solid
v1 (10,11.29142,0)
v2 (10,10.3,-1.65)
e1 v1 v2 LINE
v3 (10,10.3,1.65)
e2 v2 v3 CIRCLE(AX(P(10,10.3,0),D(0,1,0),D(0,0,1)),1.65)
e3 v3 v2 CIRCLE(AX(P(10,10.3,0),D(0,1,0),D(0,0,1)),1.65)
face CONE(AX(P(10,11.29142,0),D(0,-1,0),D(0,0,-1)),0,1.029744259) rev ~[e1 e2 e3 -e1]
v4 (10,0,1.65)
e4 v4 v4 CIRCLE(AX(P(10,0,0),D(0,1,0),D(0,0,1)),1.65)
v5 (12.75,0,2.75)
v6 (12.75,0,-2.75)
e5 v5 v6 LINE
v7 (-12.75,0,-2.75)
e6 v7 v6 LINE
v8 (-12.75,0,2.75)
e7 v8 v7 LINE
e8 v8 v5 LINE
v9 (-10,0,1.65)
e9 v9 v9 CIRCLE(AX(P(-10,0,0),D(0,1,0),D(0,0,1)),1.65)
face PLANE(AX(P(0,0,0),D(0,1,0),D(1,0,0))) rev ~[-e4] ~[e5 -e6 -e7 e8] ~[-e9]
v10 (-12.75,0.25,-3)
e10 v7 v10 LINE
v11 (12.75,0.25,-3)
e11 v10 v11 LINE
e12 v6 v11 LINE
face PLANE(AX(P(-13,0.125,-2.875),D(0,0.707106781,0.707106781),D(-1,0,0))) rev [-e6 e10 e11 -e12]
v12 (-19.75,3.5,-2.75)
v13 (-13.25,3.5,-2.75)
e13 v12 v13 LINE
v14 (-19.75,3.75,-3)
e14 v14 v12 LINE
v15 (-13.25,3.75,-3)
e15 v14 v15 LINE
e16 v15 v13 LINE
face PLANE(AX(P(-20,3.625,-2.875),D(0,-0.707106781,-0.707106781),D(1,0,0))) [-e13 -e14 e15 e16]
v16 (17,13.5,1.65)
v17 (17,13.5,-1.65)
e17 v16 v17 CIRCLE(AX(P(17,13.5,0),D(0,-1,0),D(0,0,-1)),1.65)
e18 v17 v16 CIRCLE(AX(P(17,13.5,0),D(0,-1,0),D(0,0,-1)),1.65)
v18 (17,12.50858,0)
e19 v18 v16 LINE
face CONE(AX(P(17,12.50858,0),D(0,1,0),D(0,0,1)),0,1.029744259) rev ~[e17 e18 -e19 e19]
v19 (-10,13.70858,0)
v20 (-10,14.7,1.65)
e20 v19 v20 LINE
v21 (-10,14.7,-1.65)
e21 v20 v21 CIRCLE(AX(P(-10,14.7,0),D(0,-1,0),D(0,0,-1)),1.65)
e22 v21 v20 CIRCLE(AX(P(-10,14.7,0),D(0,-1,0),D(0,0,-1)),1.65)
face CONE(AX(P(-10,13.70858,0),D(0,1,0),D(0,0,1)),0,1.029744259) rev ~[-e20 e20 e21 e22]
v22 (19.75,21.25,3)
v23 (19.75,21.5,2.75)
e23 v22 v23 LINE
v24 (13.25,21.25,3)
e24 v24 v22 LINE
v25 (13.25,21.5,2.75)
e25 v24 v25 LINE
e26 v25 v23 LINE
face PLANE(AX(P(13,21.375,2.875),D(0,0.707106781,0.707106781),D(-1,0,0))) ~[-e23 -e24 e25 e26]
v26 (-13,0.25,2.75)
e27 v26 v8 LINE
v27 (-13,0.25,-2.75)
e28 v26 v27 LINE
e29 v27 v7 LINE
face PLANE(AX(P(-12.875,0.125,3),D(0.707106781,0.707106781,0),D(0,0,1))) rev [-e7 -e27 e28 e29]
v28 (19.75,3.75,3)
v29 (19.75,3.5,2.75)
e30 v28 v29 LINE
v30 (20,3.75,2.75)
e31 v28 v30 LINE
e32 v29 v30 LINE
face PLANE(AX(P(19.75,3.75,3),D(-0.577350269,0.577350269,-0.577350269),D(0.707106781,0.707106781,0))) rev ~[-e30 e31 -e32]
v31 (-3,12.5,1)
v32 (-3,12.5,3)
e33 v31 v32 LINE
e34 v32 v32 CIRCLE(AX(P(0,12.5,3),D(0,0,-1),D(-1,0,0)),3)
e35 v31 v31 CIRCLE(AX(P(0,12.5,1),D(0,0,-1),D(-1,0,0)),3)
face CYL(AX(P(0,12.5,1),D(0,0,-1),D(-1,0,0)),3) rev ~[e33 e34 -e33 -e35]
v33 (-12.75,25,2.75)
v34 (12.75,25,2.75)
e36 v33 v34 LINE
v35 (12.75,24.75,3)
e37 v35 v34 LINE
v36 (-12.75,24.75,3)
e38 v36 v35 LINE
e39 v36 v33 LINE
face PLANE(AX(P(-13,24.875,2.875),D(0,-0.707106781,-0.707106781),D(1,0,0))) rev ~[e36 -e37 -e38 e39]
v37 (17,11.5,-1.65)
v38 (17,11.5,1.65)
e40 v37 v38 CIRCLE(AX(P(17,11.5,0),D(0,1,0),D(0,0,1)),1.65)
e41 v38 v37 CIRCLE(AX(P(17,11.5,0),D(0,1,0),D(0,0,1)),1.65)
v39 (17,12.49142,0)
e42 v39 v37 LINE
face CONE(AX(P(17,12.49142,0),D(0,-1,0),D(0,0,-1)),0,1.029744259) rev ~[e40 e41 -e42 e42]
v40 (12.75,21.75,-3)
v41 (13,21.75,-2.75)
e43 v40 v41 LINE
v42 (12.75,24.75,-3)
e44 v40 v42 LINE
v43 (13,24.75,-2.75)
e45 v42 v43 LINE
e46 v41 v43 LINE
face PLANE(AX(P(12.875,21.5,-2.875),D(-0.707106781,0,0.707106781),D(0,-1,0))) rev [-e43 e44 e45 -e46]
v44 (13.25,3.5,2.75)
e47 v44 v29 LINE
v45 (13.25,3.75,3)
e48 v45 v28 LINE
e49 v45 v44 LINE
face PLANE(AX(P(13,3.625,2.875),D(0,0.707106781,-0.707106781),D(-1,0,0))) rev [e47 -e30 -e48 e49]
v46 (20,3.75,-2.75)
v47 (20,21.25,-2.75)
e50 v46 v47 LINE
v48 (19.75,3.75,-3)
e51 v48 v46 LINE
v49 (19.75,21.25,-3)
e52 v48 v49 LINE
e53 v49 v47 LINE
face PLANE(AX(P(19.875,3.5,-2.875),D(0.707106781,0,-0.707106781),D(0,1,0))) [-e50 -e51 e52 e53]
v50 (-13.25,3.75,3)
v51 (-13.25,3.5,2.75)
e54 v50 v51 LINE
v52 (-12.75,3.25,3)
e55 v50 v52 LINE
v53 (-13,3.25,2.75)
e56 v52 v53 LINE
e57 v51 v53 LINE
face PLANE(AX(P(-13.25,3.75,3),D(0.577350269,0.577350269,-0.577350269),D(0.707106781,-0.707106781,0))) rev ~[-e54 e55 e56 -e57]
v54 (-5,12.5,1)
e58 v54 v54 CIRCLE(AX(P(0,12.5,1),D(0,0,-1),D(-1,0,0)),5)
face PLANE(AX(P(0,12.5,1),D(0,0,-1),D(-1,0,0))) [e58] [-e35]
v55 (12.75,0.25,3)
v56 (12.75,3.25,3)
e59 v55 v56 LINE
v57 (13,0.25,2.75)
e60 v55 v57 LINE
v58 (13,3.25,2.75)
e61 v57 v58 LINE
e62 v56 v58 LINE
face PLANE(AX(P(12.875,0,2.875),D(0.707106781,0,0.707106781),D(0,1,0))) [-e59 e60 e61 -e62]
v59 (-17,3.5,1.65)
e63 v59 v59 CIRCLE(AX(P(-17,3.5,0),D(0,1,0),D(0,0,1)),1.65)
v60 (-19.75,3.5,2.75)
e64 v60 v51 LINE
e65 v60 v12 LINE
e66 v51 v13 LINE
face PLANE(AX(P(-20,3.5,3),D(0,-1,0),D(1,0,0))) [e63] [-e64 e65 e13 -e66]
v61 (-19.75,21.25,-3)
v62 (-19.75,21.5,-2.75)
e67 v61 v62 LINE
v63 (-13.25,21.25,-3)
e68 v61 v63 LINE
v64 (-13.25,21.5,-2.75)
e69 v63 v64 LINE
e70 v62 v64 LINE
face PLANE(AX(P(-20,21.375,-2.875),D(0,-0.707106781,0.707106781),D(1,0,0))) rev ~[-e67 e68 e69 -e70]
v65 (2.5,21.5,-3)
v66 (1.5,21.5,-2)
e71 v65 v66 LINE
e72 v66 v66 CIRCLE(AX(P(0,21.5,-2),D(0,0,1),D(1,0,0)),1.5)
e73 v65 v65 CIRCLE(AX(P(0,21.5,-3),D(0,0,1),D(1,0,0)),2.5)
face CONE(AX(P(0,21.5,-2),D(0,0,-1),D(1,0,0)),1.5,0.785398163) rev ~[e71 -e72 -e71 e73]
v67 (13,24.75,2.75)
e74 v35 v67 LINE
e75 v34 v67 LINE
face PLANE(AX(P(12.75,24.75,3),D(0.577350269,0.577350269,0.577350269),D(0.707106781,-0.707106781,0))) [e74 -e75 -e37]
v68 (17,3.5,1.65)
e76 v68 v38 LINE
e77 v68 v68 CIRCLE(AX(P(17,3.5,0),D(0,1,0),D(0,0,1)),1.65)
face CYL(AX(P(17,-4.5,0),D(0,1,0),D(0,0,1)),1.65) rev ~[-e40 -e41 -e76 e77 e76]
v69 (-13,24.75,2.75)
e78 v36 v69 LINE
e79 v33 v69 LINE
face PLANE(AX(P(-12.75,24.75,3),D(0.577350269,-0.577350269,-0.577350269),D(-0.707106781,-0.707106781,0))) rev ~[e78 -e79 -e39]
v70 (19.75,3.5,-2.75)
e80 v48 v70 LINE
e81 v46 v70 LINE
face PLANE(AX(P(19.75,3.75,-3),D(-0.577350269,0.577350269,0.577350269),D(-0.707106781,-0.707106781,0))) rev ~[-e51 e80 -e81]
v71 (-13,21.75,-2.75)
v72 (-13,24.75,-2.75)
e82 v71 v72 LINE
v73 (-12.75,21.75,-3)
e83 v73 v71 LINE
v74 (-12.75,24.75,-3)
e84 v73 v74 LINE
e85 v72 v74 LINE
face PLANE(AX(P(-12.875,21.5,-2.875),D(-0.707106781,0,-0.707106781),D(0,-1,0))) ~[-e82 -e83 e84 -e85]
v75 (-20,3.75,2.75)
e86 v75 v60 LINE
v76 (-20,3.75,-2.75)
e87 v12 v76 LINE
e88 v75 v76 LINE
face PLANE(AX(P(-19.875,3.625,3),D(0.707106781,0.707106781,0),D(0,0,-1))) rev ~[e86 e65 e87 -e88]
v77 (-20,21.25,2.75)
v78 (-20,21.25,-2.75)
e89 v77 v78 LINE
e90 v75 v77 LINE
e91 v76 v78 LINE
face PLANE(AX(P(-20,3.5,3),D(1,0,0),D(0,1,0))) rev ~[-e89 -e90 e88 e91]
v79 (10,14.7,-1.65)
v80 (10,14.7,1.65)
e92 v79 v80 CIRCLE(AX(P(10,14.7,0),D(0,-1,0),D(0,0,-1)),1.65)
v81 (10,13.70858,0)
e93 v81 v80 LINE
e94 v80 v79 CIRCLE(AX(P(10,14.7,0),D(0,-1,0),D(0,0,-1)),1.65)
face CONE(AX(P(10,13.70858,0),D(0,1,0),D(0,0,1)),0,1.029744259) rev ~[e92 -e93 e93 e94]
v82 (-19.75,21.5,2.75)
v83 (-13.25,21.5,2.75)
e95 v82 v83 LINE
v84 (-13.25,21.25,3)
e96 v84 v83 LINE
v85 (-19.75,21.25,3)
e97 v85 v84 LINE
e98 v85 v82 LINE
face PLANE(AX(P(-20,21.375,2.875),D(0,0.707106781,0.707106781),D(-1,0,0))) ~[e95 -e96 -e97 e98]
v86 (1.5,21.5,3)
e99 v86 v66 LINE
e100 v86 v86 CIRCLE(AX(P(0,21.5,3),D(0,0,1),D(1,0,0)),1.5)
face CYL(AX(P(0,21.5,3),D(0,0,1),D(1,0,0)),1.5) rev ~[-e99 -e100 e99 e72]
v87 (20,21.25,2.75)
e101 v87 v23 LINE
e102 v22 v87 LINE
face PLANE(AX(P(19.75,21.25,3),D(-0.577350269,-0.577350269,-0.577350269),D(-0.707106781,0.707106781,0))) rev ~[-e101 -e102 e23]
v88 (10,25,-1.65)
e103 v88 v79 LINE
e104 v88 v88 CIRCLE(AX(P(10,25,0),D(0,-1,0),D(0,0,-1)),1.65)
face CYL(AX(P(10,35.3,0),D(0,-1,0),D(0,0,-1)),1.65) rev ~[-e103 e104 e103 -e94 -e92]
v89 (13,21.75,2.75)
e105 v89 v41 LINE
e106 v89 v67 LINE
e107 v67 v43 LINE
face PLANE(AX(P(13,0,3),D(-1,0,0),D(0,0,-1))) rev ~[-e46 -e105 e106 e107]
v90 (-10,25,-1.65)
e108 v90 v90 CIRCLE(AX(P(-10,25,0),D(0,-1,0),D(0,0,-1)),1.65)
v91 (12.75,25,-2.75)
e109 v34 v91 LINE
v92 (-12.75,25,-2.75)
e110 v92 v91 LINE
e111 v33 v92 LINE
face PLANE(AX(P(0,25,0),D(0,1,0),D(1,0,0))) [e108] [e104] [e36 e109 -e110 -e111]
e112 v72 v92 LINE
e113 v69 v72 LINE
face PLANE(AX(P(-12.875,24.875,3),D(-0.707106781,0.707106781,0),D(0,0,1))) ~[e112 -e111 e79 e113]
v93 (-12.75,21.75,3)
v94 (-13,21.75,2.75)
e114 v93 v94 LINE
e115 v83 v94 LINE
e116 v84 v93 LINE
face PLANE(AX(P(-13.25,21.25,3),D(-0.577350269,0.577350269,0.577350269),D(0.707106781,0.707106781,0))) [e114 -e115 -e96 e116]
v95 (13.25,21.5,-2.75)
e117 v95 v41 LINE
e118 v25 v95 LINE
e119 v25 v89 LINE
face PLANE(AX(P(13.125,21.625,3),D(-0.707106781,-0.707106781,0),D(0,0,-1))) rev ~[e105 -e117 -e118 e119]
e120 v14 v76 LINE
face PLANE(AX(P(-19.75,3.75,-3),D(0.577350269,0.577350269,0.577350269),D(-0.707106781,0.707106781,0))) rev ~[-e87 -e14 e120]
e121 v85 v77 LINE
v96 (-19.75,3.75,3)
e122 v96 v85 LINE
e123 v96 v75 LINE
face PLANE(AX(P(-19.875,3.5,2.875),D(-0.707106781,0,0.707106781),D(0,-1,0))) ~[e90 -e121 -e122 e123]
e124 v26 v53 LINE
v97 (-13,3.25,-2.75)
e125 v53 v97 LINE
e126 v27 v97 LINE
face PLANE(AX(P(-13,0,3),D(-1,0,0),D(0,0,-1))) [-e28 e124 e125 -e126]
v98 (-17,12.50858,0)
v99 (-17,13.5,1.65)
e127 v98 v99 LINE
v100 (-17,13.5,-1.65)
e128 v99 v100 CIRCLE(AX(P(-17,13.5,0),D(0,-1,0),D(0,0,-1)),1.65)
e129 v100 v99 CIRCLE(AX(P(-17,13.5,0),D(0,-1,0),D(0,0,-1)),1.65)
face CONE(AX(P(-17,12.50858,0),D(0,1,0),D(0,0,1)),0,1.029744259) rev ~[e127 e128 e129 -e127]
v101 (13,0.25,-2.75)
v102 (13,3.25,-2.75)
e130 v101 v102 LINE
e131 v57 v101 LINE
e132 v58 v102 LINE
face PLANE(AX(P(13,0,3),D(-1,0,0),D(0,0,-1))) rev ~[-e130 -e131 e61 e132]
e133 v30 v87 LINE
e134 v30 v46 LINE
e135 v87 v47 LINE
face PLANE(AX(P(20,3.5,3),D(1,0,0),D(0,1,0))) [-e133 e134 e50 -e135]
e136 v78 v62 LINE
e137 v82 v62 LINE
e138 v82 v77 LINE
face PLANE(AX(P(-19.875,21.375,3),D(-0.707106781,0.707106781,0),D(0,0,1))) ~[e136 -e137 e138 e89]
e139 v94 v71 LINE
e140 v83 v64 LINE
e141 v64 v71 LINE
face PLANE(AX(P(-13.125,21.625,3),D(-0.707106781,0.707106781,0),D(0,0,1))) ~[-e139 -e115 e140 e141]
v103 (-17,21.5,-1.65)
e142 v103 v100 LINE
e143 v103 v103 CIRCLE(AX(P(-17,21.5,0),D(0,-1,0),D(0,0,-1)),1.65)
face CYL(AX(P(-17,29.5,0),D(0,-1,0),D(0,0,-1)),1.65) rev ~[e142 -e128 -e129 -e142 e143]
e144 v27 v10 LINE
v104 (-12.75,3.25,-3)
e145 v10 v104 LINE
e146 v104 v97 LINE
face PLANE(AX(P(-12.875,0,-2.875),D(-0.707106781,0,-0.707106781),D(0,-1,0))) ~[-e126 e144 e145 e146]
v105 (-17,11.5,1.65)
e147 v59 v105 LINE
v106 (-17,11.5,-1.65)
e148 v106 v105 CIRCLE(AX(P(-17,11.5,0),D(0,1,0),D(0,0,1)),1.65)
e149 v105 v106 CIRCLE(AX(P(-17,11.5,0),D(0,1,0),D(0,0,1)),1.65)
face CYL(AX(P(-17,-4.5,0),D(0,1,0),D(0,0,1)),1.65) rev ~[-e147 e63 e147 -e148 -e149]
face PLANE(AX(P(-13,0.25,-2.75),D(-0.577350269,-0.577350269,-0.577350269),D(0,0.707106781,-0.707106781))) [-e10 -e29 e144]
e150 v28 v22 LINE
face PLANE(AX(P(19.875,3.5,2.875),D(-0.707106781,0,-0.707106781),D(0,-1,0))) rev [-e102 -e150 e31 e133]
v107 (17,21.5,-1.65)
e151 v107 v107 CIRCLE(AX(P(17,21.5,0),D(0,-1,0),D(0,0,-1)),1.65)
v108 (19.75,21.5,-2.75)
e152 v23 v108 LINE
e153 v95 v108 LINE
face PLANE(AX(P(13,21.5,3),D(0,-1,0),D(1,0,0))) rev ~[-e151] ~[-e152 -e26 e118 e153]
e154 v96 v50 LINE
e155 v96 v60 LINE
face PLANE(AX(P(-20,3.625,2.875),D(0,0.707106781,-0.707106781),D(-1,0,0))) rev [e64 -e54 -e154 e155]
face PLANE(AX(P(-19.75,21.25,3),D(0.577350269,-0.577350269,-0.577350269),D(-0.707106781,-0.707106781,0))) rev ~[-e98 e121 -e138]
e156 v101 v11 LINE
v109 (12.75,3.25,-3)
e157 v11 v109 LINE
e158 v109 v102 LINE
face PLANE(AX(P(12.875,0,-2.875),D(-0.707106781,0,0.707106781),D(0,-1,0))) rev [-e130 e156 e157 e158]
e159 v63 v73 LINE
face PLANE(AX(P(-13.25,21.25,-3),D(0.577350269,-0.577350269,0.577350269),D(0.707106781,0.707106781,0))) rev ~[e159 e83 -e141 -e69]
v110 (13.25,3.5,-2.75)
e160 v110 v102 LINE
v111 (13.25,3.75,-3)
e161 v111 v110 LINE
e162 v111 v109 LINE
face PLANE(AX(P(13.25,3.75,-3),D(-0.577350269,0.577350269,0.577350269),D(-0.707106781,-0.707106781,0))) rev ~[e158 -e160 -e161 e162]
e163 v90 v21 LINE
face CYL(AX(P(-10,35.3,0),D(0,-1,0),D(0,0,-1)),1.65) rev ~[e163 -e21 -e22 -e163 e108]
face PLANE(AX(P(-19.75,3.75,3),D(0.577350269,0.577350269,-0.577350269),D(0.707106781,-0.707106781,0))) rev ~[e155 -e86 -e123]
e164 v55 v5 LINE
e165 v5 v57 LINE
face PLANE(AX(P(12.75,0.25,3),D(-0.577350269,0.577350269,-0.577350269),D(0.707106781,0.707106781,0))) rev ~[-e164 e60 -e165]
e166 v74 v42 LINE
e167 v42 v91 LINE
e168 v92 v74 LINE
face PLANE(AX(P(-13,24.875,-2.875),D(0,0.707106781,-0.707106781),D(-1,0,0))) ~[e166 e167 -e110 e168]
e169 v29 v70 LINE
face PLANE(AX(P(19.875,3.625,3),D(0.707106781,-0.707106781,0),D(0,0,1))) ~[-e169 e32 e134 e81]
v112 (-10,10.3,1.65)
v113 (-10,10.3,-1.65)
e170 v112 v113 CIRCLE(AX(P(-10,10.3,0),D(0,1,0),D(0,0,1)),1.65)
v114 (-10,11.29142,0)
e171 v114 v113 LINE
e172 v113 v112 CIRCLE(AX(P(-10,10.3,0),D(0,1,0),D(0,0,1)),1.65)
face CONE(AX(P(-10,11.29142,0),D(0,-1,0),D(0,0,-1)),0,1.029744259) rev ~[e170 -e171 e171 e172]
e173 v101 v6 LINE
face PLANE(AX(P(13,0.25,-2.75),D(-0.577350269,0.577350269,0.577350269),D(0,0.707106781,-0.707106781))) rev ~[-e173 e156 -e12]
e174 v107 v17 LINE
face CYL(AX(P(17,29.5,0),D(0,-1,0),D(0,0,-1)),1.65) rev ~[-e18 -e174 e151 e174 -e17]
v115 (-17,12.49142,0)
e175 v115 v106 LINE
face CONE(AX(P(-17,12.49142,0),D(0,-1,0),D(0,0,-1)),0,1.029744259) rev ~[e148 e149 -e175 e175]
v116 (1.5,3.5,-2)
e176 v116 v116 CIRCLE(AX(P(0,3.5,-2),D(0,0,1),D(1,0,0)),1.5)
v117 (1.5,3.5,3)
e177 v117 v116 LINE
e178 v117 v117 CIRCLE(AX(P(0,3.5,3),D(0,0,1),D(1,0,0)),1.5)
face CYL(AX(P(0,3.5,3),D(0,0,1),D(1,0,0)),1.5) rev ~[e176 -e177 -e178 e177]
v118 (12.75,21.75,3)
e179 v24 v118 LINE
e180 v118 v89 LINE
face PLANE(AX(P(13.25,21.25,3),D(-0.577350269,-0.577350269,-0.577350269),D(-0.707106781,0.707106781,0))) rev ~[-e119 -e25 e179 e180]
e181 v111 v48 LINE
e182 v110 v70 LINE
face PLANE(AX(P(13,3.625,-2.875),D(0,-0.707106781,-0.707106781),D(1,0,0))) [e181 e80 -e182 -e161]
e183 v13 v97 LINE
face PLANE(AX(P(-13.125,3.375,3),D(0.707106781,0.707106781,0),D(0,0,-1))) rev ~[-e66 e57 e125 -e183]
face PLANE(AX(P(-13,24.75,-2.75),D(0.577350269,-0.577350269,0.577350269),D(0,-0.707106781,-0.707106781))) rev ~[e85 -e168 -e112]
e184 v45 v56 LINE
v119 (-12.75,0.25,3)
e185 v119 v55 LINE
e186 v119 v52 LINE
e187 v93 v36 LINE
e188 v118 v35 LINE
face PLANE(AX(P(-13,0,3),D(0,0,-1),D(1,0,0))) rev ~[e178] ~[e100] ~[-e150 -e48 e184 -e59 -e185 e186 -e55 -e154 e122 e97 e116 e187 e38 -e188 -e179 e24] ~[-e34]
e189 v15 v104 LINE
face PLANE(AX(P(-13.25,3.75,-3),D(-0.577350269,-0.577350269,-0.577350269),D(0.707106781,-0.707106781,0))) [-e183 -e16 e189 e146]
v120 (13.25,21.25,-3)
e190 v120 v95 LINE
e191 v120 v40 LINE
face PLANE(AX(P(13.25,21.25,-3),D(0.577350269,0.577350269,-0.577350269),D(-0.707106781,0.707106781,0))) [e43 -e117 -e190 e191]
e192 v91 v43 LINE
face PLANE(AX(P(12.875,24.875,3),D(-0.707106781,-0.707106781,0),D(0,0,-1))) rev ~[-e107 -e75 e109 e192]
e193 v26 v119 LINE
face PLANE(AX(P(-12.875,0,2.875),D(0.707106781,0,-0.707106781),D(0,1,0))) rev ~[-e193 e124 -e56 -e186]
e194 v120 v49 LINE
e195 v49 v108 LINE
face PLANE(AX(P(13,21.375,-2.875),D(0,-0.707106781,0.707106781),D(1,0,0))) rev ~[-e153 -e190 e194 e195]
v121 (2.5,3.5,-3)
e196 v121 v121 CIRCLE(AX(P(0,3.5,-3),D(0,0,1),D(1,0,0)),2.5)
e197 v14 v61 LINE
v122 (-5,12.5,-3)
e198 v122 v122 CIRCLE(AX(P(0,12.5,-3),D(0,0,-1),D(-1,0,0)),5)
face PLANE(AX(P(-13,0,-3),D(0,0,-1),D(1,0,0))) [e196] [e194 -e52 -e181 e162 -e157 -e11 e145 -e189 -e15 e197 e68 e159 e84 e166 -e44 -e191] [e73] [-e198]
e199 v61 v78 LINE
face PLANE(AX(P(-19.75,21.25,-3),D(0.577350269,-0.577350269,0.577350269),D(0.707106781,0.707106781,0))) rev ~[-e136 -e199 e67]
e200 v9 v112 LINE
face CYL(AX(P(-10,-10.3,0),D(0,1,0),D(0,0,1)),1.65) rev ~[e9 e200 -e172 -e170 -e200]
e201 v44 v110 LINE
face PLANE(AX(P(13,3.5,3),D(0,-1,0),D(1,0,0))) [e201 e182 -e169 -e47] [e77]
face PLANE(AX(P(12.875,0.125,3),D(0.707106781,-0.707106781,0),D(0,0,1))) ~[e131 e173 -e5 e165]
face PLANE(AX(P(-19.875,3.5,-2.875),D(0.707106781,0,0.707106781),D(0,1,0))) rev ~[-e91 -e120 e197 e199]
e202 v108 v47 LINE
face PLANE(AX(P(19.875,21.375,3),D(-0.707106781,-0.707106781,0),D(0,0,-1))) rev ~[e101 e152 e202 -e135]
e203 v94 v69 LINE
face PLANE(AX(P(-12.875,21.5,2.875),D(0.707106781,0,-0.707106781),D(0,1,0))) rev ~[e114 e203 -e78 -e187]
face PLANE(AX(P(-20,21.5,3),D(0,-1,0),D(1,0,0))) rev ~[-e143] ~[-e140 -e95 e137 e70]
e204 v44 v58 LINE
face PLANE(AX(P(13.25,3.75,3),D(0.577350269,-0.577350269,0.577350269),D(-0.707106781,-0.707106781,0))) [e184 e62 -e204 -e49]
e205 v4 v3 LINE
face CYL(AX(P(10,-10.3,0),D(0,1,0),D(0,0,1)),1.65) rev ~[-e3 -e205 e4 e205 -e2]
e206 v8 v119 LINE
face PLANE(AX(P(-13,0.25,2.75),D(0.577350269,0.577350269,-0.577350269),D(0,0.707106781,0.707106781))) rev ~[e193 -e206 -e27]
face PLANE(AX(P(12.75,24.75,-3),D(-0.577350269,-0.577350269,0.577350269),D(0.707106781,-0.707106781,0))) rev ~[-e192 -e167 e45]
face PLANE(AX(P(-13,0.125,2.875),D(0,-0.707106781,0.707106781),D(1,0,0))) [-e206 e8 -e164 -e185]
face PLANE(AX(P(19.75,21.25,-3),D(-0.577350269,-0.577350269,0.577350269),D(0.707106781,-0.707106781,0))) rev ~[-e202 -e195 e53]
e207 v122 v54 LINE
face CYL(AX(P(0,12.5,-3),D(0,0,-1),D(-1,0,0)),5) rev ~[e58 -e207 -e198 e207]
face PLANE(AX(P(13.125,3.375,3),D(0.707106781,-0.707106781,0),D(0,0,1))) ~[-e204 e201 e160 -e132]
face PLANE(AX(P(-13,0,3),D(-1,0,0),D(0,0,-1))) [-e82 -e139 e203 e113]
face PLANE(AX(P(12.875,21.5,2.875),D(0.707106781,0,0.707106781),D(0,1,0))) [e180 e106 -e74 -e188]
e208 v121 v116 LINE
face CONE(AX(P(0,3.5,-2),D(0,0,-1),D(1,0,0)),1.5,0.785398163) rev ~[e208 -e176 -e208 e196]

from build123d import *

# Parameters (mm, degrees)
SKETCH1_W                           = 26
SKETCH1_H                           = 6
EXTRUDE1_DEPTH                      = 25
SKETCH2_R                           = 5
CUT_EXTRUDE1_DEPTH                  = 4
SKETCH3_R                           = 3
CUT_EXTRUDE2_DEPTH                  = 12
M4X0_7_TAPPED_HOLE1_D               = 3.3
M4X0_7_TAPPED_HOLE1_DEPTH           = 10.3
M4X0_7_TAPPED_HOLE1_TIP             = 0.991420021
M4X0_7_TAPPED_HOLE1_ON_FACE_2_D     = 3.3
M4X0_7_TAPPED_HOLE1_ON_FACE_2_DEPTH = 10.3
M4X0_7_TAPPED_HOLE1_ON_FACE_2_TIP   = 0.991420021
SKETCH7_R                           = 1.5
CUT_EXTRUDE3_DEPTH                  = 10
CHAMFER2_SIZE                       = 1
SKETCH8_W                           = 7
SKETCH8_H                           = 18
EXTRUDE2_DEPTH                      = 6
M4X0_7_TAPPED_HOLE2_D               = 3.3
M4X0_7_TAPPED_HOLE2_DEPTH           = 8
M4X0_7_TAPPED_HOLE2_TIP             = 0.991420021
M4X0_7_TAPPED_HOLE2_ON_FACE_2_D     = 3.3
M4X0_7_TAPPED_HOLE2_ON_FACE_2_DEPTH = 8
M4X0_7_TAPPED_HOLE2_ON_FACE_2_TIP   = 0.991420021
CHAMFER3_SIZE                       = 0.25


with BuildPart() as part:
    # Sketch1 → Extrude1 (new body)
    with BuildSketch(Plane(origin=(0, 0, 0), x_dir=(1, 0, 0), z_dir=(0, 1, 0))):
        Rectangle(SKETCH1_W, SKETCH1_H)
    extrude(amount=EXTRUDE1_DEPTH)

    # Sketch2 → Cut-Extrude1 (cut)
    with BuildSketch(Plane(origin=(0, 0, -3), x_dir=(-1, 0, 0), z_dir=(0, 0, -1))):
        with Locations((0, 12.5)):
            Circle(SKETCH2_R)
    extrude(amount=-CUT_EXTRUDE1_DEPTH, mode=Mode.SUBTRACT)

    # Sketch3 → Cut-Extrude2 (cut)
    with BuildSketch(Plane(origin=(0, 0, 1), x_dir=(-1, 0, 0), z_dir=(0, 0, -1))):
        with Locations((0, 12.5)):
            Circle(SKETCH3_R)
    extrude(amount=-CUT_EXTRUDE2_DEPTH, mode=Mode.SUBTRACT)

    # M4x0.7 Tapped Hole1
    with Locations(Plane(origin=(10, 25, 0), x_dir=(0, 0, 1), z_dir=(0, 1, 0))):
        with Locations((0, 0), (0, -20)):
            Hole(M4X0_7_TAPPED_HOLE1_D / 2, depth=M4X0_7_TAPPED_HOLE1_DEPTH)
            with Locations((0, 0, -(M4X0_7_TAPPED_HOLE1_DEPTH + M4X0_7_TAPPED_HOLE1_TIP / 2))):  # 118° drill point
                Cone(0, M4X0_7_TAPPED_HOLE1_D / 2, M4X0_7_TAPPED_HOLE1_TIP, mode=Mode.SUBTRACT)

    # M4x0.7 Tapped Hole1 on face 2
    with Locations(Plane(origin=(10, 0, 0), x_dir=(0, 0, -1), z_dir=(0, -1, 0))):
        with Locations((0, 0), (0, -20)):
            Hole(M4X0_7_TAPPED_HOLE1_ON_FACE_2_D / 2, depth=M4X0_7_TAPPED_HOLE1_ON_FACE_2_DEPTH)
            with Locations((0, 0, -(M4X0_7_TAPPED_HOLE1_ON_FACE_2_DEPTH + M4X0_7_TAPPED_HOLE1_ON_FACE_2_TIP / 2))):  # 118° drill point
                Cone(0, M4X0_7_TAPPED_HOLE1_ON_FACE_2_D / 2, M4X0_7_TAPPED_HOLE1_ON_FACE_2_TIP, mode=Mode.SUBTRACT)

    # Sketch7 → Cut-Extrude3 (cut)
    with BuildSketch(Plane.XY.offset(3)):
        with Locations((0, 21.5)):
            Circle(SKETCH7_R)
        with Locations((0, 3.5)):
            Circle(SKETCH7_R)
    extrude(amount=-CUT_EXTRUDE3_DEPTH, mode=Mode.SUBTRACT)

    # Chamfer2
    chamfer2_edges = [part.edges().sort_by_distance(p)[0] for p in [
        (-1.5, 21.5, -3),
        (-1.5, 3.5, -3),
    ]]
    chamfer(chamfer2_edges, length=CHAMFER2_SIZE)

    # Sketch8 → Extrude2 (add)
    with BuildSketch(Plane.XY.offset(3)):
        with Locations((16.5, 12.5)):
            Rectangle(SKETCH8_W, SKETCH8_H)
        with Locations((-16.5, 12.5)):
            Rectangle(SKETCH8_W, SKETCH8_H)
    extrude(amount=-EXTRUDE2_DEPTH)

    # M4x0.7 Tapped Hole2
    with Locations(Plane(origin=(-17, 21.5, 0), x_dir=(0, 0, 1), z_dir=(0, 1, 0))):
        with Locations((0, 0), (0, 34)):
            Hole(M4X0_7_TAPPED_HOLE2_D / 2, depth=M4X0_7_TAPPED_HOLE2_DEPTH)
            with Locations((0, 0, -(M4X0_7_TAPPED_HOLE2_DEPTH + M4X0_7_TAPPED_HOLE2_TIP / 2))):  # 118° drill point
                Cone(0, M4X0_7_TAPPED_HOLE2_D / 2, M4X0_7_TAPPED_HOLE2_TIP, mode=Mode.SUBTRACT)

    # M4x0.7 Tapped Hole2 on face 2
    with Locations(Plane(origin=(17, 3.5, 0), x_dir=(0, 0, -1), z_dir=(0, -1, 0))):
        with Locations((0, 0), (0, -34)):
            Hole(M4X0_7_TAPPED_HOLE2_ON_FACE_2_D / 2, depth=M4X0_7_TAPPED_HOLE2_ON_FACE_2_DEPTH)
            with Locations((0, 0, -(M4X0_7_TAPPED_HOLE2_ON_FACE_2_DEPTH + M4X0_7_TAPPED_HOLE2_ON_FACE_2_TIP / 2))):  # 118° drill point
                Cone(0, M4X0_7_TAPPED_HOLE2_ON_FACE_2_D / 2, M4X0_7_TAPPED_HOLE2_ON_FACE_2_TIP, mode=Mode.SUBTRACT)

    # Chamfer3
    chamfer3_edges = [part.edges().sort_by_distance(p)[0] for p in [
        (13, 25, 0),
        (0, 25, -3),
        (-13, 25, 0),
        (0, 0, -3),
        (13, 0, 0),
        (0, 0, 3),
        (-13, 0, 0),
        (13, 1.75, -3),
        (13, 1.75, 3),
        (13, 3.5, 0),
        (13, 21.5, 0),
        (20, 21.5, 0),
        (20, 3.5, 0),
        (16.5, 3.5, 3),
        (20, 12.5, 3),
        (16.5, 21.5, 3),
        (16.5, 21.5, -3),
        (20, 12.5, -3),
        (16.5, 3.5, -3),
        (-13, 1.75, 3),
        (-13, 1.75, -3),
        (0, 25, 3),
        (-13, 23.25, -3),
        (13, 23.25, -3),
        (-13, 21.5, 0),
        (-13, 3.5, 0),
        (-20, 3.5, 0),
        (-20, 21.5, 0),
        (13, 23.25, 3),
        (-16.5, 21.5, 3),
        (-20, 12.5, 3),
        (-16.5, 3.5, 3),
        (-13, 23.25, 3),
        (-16.5, 3.5, -3),
        (-20, 12.5, -3),
        (-16.5, 21.5, -3),
    ]]
    chamfer(chamfer3_edges, length=CHAMFER3_SIZE)


solid = part.part
